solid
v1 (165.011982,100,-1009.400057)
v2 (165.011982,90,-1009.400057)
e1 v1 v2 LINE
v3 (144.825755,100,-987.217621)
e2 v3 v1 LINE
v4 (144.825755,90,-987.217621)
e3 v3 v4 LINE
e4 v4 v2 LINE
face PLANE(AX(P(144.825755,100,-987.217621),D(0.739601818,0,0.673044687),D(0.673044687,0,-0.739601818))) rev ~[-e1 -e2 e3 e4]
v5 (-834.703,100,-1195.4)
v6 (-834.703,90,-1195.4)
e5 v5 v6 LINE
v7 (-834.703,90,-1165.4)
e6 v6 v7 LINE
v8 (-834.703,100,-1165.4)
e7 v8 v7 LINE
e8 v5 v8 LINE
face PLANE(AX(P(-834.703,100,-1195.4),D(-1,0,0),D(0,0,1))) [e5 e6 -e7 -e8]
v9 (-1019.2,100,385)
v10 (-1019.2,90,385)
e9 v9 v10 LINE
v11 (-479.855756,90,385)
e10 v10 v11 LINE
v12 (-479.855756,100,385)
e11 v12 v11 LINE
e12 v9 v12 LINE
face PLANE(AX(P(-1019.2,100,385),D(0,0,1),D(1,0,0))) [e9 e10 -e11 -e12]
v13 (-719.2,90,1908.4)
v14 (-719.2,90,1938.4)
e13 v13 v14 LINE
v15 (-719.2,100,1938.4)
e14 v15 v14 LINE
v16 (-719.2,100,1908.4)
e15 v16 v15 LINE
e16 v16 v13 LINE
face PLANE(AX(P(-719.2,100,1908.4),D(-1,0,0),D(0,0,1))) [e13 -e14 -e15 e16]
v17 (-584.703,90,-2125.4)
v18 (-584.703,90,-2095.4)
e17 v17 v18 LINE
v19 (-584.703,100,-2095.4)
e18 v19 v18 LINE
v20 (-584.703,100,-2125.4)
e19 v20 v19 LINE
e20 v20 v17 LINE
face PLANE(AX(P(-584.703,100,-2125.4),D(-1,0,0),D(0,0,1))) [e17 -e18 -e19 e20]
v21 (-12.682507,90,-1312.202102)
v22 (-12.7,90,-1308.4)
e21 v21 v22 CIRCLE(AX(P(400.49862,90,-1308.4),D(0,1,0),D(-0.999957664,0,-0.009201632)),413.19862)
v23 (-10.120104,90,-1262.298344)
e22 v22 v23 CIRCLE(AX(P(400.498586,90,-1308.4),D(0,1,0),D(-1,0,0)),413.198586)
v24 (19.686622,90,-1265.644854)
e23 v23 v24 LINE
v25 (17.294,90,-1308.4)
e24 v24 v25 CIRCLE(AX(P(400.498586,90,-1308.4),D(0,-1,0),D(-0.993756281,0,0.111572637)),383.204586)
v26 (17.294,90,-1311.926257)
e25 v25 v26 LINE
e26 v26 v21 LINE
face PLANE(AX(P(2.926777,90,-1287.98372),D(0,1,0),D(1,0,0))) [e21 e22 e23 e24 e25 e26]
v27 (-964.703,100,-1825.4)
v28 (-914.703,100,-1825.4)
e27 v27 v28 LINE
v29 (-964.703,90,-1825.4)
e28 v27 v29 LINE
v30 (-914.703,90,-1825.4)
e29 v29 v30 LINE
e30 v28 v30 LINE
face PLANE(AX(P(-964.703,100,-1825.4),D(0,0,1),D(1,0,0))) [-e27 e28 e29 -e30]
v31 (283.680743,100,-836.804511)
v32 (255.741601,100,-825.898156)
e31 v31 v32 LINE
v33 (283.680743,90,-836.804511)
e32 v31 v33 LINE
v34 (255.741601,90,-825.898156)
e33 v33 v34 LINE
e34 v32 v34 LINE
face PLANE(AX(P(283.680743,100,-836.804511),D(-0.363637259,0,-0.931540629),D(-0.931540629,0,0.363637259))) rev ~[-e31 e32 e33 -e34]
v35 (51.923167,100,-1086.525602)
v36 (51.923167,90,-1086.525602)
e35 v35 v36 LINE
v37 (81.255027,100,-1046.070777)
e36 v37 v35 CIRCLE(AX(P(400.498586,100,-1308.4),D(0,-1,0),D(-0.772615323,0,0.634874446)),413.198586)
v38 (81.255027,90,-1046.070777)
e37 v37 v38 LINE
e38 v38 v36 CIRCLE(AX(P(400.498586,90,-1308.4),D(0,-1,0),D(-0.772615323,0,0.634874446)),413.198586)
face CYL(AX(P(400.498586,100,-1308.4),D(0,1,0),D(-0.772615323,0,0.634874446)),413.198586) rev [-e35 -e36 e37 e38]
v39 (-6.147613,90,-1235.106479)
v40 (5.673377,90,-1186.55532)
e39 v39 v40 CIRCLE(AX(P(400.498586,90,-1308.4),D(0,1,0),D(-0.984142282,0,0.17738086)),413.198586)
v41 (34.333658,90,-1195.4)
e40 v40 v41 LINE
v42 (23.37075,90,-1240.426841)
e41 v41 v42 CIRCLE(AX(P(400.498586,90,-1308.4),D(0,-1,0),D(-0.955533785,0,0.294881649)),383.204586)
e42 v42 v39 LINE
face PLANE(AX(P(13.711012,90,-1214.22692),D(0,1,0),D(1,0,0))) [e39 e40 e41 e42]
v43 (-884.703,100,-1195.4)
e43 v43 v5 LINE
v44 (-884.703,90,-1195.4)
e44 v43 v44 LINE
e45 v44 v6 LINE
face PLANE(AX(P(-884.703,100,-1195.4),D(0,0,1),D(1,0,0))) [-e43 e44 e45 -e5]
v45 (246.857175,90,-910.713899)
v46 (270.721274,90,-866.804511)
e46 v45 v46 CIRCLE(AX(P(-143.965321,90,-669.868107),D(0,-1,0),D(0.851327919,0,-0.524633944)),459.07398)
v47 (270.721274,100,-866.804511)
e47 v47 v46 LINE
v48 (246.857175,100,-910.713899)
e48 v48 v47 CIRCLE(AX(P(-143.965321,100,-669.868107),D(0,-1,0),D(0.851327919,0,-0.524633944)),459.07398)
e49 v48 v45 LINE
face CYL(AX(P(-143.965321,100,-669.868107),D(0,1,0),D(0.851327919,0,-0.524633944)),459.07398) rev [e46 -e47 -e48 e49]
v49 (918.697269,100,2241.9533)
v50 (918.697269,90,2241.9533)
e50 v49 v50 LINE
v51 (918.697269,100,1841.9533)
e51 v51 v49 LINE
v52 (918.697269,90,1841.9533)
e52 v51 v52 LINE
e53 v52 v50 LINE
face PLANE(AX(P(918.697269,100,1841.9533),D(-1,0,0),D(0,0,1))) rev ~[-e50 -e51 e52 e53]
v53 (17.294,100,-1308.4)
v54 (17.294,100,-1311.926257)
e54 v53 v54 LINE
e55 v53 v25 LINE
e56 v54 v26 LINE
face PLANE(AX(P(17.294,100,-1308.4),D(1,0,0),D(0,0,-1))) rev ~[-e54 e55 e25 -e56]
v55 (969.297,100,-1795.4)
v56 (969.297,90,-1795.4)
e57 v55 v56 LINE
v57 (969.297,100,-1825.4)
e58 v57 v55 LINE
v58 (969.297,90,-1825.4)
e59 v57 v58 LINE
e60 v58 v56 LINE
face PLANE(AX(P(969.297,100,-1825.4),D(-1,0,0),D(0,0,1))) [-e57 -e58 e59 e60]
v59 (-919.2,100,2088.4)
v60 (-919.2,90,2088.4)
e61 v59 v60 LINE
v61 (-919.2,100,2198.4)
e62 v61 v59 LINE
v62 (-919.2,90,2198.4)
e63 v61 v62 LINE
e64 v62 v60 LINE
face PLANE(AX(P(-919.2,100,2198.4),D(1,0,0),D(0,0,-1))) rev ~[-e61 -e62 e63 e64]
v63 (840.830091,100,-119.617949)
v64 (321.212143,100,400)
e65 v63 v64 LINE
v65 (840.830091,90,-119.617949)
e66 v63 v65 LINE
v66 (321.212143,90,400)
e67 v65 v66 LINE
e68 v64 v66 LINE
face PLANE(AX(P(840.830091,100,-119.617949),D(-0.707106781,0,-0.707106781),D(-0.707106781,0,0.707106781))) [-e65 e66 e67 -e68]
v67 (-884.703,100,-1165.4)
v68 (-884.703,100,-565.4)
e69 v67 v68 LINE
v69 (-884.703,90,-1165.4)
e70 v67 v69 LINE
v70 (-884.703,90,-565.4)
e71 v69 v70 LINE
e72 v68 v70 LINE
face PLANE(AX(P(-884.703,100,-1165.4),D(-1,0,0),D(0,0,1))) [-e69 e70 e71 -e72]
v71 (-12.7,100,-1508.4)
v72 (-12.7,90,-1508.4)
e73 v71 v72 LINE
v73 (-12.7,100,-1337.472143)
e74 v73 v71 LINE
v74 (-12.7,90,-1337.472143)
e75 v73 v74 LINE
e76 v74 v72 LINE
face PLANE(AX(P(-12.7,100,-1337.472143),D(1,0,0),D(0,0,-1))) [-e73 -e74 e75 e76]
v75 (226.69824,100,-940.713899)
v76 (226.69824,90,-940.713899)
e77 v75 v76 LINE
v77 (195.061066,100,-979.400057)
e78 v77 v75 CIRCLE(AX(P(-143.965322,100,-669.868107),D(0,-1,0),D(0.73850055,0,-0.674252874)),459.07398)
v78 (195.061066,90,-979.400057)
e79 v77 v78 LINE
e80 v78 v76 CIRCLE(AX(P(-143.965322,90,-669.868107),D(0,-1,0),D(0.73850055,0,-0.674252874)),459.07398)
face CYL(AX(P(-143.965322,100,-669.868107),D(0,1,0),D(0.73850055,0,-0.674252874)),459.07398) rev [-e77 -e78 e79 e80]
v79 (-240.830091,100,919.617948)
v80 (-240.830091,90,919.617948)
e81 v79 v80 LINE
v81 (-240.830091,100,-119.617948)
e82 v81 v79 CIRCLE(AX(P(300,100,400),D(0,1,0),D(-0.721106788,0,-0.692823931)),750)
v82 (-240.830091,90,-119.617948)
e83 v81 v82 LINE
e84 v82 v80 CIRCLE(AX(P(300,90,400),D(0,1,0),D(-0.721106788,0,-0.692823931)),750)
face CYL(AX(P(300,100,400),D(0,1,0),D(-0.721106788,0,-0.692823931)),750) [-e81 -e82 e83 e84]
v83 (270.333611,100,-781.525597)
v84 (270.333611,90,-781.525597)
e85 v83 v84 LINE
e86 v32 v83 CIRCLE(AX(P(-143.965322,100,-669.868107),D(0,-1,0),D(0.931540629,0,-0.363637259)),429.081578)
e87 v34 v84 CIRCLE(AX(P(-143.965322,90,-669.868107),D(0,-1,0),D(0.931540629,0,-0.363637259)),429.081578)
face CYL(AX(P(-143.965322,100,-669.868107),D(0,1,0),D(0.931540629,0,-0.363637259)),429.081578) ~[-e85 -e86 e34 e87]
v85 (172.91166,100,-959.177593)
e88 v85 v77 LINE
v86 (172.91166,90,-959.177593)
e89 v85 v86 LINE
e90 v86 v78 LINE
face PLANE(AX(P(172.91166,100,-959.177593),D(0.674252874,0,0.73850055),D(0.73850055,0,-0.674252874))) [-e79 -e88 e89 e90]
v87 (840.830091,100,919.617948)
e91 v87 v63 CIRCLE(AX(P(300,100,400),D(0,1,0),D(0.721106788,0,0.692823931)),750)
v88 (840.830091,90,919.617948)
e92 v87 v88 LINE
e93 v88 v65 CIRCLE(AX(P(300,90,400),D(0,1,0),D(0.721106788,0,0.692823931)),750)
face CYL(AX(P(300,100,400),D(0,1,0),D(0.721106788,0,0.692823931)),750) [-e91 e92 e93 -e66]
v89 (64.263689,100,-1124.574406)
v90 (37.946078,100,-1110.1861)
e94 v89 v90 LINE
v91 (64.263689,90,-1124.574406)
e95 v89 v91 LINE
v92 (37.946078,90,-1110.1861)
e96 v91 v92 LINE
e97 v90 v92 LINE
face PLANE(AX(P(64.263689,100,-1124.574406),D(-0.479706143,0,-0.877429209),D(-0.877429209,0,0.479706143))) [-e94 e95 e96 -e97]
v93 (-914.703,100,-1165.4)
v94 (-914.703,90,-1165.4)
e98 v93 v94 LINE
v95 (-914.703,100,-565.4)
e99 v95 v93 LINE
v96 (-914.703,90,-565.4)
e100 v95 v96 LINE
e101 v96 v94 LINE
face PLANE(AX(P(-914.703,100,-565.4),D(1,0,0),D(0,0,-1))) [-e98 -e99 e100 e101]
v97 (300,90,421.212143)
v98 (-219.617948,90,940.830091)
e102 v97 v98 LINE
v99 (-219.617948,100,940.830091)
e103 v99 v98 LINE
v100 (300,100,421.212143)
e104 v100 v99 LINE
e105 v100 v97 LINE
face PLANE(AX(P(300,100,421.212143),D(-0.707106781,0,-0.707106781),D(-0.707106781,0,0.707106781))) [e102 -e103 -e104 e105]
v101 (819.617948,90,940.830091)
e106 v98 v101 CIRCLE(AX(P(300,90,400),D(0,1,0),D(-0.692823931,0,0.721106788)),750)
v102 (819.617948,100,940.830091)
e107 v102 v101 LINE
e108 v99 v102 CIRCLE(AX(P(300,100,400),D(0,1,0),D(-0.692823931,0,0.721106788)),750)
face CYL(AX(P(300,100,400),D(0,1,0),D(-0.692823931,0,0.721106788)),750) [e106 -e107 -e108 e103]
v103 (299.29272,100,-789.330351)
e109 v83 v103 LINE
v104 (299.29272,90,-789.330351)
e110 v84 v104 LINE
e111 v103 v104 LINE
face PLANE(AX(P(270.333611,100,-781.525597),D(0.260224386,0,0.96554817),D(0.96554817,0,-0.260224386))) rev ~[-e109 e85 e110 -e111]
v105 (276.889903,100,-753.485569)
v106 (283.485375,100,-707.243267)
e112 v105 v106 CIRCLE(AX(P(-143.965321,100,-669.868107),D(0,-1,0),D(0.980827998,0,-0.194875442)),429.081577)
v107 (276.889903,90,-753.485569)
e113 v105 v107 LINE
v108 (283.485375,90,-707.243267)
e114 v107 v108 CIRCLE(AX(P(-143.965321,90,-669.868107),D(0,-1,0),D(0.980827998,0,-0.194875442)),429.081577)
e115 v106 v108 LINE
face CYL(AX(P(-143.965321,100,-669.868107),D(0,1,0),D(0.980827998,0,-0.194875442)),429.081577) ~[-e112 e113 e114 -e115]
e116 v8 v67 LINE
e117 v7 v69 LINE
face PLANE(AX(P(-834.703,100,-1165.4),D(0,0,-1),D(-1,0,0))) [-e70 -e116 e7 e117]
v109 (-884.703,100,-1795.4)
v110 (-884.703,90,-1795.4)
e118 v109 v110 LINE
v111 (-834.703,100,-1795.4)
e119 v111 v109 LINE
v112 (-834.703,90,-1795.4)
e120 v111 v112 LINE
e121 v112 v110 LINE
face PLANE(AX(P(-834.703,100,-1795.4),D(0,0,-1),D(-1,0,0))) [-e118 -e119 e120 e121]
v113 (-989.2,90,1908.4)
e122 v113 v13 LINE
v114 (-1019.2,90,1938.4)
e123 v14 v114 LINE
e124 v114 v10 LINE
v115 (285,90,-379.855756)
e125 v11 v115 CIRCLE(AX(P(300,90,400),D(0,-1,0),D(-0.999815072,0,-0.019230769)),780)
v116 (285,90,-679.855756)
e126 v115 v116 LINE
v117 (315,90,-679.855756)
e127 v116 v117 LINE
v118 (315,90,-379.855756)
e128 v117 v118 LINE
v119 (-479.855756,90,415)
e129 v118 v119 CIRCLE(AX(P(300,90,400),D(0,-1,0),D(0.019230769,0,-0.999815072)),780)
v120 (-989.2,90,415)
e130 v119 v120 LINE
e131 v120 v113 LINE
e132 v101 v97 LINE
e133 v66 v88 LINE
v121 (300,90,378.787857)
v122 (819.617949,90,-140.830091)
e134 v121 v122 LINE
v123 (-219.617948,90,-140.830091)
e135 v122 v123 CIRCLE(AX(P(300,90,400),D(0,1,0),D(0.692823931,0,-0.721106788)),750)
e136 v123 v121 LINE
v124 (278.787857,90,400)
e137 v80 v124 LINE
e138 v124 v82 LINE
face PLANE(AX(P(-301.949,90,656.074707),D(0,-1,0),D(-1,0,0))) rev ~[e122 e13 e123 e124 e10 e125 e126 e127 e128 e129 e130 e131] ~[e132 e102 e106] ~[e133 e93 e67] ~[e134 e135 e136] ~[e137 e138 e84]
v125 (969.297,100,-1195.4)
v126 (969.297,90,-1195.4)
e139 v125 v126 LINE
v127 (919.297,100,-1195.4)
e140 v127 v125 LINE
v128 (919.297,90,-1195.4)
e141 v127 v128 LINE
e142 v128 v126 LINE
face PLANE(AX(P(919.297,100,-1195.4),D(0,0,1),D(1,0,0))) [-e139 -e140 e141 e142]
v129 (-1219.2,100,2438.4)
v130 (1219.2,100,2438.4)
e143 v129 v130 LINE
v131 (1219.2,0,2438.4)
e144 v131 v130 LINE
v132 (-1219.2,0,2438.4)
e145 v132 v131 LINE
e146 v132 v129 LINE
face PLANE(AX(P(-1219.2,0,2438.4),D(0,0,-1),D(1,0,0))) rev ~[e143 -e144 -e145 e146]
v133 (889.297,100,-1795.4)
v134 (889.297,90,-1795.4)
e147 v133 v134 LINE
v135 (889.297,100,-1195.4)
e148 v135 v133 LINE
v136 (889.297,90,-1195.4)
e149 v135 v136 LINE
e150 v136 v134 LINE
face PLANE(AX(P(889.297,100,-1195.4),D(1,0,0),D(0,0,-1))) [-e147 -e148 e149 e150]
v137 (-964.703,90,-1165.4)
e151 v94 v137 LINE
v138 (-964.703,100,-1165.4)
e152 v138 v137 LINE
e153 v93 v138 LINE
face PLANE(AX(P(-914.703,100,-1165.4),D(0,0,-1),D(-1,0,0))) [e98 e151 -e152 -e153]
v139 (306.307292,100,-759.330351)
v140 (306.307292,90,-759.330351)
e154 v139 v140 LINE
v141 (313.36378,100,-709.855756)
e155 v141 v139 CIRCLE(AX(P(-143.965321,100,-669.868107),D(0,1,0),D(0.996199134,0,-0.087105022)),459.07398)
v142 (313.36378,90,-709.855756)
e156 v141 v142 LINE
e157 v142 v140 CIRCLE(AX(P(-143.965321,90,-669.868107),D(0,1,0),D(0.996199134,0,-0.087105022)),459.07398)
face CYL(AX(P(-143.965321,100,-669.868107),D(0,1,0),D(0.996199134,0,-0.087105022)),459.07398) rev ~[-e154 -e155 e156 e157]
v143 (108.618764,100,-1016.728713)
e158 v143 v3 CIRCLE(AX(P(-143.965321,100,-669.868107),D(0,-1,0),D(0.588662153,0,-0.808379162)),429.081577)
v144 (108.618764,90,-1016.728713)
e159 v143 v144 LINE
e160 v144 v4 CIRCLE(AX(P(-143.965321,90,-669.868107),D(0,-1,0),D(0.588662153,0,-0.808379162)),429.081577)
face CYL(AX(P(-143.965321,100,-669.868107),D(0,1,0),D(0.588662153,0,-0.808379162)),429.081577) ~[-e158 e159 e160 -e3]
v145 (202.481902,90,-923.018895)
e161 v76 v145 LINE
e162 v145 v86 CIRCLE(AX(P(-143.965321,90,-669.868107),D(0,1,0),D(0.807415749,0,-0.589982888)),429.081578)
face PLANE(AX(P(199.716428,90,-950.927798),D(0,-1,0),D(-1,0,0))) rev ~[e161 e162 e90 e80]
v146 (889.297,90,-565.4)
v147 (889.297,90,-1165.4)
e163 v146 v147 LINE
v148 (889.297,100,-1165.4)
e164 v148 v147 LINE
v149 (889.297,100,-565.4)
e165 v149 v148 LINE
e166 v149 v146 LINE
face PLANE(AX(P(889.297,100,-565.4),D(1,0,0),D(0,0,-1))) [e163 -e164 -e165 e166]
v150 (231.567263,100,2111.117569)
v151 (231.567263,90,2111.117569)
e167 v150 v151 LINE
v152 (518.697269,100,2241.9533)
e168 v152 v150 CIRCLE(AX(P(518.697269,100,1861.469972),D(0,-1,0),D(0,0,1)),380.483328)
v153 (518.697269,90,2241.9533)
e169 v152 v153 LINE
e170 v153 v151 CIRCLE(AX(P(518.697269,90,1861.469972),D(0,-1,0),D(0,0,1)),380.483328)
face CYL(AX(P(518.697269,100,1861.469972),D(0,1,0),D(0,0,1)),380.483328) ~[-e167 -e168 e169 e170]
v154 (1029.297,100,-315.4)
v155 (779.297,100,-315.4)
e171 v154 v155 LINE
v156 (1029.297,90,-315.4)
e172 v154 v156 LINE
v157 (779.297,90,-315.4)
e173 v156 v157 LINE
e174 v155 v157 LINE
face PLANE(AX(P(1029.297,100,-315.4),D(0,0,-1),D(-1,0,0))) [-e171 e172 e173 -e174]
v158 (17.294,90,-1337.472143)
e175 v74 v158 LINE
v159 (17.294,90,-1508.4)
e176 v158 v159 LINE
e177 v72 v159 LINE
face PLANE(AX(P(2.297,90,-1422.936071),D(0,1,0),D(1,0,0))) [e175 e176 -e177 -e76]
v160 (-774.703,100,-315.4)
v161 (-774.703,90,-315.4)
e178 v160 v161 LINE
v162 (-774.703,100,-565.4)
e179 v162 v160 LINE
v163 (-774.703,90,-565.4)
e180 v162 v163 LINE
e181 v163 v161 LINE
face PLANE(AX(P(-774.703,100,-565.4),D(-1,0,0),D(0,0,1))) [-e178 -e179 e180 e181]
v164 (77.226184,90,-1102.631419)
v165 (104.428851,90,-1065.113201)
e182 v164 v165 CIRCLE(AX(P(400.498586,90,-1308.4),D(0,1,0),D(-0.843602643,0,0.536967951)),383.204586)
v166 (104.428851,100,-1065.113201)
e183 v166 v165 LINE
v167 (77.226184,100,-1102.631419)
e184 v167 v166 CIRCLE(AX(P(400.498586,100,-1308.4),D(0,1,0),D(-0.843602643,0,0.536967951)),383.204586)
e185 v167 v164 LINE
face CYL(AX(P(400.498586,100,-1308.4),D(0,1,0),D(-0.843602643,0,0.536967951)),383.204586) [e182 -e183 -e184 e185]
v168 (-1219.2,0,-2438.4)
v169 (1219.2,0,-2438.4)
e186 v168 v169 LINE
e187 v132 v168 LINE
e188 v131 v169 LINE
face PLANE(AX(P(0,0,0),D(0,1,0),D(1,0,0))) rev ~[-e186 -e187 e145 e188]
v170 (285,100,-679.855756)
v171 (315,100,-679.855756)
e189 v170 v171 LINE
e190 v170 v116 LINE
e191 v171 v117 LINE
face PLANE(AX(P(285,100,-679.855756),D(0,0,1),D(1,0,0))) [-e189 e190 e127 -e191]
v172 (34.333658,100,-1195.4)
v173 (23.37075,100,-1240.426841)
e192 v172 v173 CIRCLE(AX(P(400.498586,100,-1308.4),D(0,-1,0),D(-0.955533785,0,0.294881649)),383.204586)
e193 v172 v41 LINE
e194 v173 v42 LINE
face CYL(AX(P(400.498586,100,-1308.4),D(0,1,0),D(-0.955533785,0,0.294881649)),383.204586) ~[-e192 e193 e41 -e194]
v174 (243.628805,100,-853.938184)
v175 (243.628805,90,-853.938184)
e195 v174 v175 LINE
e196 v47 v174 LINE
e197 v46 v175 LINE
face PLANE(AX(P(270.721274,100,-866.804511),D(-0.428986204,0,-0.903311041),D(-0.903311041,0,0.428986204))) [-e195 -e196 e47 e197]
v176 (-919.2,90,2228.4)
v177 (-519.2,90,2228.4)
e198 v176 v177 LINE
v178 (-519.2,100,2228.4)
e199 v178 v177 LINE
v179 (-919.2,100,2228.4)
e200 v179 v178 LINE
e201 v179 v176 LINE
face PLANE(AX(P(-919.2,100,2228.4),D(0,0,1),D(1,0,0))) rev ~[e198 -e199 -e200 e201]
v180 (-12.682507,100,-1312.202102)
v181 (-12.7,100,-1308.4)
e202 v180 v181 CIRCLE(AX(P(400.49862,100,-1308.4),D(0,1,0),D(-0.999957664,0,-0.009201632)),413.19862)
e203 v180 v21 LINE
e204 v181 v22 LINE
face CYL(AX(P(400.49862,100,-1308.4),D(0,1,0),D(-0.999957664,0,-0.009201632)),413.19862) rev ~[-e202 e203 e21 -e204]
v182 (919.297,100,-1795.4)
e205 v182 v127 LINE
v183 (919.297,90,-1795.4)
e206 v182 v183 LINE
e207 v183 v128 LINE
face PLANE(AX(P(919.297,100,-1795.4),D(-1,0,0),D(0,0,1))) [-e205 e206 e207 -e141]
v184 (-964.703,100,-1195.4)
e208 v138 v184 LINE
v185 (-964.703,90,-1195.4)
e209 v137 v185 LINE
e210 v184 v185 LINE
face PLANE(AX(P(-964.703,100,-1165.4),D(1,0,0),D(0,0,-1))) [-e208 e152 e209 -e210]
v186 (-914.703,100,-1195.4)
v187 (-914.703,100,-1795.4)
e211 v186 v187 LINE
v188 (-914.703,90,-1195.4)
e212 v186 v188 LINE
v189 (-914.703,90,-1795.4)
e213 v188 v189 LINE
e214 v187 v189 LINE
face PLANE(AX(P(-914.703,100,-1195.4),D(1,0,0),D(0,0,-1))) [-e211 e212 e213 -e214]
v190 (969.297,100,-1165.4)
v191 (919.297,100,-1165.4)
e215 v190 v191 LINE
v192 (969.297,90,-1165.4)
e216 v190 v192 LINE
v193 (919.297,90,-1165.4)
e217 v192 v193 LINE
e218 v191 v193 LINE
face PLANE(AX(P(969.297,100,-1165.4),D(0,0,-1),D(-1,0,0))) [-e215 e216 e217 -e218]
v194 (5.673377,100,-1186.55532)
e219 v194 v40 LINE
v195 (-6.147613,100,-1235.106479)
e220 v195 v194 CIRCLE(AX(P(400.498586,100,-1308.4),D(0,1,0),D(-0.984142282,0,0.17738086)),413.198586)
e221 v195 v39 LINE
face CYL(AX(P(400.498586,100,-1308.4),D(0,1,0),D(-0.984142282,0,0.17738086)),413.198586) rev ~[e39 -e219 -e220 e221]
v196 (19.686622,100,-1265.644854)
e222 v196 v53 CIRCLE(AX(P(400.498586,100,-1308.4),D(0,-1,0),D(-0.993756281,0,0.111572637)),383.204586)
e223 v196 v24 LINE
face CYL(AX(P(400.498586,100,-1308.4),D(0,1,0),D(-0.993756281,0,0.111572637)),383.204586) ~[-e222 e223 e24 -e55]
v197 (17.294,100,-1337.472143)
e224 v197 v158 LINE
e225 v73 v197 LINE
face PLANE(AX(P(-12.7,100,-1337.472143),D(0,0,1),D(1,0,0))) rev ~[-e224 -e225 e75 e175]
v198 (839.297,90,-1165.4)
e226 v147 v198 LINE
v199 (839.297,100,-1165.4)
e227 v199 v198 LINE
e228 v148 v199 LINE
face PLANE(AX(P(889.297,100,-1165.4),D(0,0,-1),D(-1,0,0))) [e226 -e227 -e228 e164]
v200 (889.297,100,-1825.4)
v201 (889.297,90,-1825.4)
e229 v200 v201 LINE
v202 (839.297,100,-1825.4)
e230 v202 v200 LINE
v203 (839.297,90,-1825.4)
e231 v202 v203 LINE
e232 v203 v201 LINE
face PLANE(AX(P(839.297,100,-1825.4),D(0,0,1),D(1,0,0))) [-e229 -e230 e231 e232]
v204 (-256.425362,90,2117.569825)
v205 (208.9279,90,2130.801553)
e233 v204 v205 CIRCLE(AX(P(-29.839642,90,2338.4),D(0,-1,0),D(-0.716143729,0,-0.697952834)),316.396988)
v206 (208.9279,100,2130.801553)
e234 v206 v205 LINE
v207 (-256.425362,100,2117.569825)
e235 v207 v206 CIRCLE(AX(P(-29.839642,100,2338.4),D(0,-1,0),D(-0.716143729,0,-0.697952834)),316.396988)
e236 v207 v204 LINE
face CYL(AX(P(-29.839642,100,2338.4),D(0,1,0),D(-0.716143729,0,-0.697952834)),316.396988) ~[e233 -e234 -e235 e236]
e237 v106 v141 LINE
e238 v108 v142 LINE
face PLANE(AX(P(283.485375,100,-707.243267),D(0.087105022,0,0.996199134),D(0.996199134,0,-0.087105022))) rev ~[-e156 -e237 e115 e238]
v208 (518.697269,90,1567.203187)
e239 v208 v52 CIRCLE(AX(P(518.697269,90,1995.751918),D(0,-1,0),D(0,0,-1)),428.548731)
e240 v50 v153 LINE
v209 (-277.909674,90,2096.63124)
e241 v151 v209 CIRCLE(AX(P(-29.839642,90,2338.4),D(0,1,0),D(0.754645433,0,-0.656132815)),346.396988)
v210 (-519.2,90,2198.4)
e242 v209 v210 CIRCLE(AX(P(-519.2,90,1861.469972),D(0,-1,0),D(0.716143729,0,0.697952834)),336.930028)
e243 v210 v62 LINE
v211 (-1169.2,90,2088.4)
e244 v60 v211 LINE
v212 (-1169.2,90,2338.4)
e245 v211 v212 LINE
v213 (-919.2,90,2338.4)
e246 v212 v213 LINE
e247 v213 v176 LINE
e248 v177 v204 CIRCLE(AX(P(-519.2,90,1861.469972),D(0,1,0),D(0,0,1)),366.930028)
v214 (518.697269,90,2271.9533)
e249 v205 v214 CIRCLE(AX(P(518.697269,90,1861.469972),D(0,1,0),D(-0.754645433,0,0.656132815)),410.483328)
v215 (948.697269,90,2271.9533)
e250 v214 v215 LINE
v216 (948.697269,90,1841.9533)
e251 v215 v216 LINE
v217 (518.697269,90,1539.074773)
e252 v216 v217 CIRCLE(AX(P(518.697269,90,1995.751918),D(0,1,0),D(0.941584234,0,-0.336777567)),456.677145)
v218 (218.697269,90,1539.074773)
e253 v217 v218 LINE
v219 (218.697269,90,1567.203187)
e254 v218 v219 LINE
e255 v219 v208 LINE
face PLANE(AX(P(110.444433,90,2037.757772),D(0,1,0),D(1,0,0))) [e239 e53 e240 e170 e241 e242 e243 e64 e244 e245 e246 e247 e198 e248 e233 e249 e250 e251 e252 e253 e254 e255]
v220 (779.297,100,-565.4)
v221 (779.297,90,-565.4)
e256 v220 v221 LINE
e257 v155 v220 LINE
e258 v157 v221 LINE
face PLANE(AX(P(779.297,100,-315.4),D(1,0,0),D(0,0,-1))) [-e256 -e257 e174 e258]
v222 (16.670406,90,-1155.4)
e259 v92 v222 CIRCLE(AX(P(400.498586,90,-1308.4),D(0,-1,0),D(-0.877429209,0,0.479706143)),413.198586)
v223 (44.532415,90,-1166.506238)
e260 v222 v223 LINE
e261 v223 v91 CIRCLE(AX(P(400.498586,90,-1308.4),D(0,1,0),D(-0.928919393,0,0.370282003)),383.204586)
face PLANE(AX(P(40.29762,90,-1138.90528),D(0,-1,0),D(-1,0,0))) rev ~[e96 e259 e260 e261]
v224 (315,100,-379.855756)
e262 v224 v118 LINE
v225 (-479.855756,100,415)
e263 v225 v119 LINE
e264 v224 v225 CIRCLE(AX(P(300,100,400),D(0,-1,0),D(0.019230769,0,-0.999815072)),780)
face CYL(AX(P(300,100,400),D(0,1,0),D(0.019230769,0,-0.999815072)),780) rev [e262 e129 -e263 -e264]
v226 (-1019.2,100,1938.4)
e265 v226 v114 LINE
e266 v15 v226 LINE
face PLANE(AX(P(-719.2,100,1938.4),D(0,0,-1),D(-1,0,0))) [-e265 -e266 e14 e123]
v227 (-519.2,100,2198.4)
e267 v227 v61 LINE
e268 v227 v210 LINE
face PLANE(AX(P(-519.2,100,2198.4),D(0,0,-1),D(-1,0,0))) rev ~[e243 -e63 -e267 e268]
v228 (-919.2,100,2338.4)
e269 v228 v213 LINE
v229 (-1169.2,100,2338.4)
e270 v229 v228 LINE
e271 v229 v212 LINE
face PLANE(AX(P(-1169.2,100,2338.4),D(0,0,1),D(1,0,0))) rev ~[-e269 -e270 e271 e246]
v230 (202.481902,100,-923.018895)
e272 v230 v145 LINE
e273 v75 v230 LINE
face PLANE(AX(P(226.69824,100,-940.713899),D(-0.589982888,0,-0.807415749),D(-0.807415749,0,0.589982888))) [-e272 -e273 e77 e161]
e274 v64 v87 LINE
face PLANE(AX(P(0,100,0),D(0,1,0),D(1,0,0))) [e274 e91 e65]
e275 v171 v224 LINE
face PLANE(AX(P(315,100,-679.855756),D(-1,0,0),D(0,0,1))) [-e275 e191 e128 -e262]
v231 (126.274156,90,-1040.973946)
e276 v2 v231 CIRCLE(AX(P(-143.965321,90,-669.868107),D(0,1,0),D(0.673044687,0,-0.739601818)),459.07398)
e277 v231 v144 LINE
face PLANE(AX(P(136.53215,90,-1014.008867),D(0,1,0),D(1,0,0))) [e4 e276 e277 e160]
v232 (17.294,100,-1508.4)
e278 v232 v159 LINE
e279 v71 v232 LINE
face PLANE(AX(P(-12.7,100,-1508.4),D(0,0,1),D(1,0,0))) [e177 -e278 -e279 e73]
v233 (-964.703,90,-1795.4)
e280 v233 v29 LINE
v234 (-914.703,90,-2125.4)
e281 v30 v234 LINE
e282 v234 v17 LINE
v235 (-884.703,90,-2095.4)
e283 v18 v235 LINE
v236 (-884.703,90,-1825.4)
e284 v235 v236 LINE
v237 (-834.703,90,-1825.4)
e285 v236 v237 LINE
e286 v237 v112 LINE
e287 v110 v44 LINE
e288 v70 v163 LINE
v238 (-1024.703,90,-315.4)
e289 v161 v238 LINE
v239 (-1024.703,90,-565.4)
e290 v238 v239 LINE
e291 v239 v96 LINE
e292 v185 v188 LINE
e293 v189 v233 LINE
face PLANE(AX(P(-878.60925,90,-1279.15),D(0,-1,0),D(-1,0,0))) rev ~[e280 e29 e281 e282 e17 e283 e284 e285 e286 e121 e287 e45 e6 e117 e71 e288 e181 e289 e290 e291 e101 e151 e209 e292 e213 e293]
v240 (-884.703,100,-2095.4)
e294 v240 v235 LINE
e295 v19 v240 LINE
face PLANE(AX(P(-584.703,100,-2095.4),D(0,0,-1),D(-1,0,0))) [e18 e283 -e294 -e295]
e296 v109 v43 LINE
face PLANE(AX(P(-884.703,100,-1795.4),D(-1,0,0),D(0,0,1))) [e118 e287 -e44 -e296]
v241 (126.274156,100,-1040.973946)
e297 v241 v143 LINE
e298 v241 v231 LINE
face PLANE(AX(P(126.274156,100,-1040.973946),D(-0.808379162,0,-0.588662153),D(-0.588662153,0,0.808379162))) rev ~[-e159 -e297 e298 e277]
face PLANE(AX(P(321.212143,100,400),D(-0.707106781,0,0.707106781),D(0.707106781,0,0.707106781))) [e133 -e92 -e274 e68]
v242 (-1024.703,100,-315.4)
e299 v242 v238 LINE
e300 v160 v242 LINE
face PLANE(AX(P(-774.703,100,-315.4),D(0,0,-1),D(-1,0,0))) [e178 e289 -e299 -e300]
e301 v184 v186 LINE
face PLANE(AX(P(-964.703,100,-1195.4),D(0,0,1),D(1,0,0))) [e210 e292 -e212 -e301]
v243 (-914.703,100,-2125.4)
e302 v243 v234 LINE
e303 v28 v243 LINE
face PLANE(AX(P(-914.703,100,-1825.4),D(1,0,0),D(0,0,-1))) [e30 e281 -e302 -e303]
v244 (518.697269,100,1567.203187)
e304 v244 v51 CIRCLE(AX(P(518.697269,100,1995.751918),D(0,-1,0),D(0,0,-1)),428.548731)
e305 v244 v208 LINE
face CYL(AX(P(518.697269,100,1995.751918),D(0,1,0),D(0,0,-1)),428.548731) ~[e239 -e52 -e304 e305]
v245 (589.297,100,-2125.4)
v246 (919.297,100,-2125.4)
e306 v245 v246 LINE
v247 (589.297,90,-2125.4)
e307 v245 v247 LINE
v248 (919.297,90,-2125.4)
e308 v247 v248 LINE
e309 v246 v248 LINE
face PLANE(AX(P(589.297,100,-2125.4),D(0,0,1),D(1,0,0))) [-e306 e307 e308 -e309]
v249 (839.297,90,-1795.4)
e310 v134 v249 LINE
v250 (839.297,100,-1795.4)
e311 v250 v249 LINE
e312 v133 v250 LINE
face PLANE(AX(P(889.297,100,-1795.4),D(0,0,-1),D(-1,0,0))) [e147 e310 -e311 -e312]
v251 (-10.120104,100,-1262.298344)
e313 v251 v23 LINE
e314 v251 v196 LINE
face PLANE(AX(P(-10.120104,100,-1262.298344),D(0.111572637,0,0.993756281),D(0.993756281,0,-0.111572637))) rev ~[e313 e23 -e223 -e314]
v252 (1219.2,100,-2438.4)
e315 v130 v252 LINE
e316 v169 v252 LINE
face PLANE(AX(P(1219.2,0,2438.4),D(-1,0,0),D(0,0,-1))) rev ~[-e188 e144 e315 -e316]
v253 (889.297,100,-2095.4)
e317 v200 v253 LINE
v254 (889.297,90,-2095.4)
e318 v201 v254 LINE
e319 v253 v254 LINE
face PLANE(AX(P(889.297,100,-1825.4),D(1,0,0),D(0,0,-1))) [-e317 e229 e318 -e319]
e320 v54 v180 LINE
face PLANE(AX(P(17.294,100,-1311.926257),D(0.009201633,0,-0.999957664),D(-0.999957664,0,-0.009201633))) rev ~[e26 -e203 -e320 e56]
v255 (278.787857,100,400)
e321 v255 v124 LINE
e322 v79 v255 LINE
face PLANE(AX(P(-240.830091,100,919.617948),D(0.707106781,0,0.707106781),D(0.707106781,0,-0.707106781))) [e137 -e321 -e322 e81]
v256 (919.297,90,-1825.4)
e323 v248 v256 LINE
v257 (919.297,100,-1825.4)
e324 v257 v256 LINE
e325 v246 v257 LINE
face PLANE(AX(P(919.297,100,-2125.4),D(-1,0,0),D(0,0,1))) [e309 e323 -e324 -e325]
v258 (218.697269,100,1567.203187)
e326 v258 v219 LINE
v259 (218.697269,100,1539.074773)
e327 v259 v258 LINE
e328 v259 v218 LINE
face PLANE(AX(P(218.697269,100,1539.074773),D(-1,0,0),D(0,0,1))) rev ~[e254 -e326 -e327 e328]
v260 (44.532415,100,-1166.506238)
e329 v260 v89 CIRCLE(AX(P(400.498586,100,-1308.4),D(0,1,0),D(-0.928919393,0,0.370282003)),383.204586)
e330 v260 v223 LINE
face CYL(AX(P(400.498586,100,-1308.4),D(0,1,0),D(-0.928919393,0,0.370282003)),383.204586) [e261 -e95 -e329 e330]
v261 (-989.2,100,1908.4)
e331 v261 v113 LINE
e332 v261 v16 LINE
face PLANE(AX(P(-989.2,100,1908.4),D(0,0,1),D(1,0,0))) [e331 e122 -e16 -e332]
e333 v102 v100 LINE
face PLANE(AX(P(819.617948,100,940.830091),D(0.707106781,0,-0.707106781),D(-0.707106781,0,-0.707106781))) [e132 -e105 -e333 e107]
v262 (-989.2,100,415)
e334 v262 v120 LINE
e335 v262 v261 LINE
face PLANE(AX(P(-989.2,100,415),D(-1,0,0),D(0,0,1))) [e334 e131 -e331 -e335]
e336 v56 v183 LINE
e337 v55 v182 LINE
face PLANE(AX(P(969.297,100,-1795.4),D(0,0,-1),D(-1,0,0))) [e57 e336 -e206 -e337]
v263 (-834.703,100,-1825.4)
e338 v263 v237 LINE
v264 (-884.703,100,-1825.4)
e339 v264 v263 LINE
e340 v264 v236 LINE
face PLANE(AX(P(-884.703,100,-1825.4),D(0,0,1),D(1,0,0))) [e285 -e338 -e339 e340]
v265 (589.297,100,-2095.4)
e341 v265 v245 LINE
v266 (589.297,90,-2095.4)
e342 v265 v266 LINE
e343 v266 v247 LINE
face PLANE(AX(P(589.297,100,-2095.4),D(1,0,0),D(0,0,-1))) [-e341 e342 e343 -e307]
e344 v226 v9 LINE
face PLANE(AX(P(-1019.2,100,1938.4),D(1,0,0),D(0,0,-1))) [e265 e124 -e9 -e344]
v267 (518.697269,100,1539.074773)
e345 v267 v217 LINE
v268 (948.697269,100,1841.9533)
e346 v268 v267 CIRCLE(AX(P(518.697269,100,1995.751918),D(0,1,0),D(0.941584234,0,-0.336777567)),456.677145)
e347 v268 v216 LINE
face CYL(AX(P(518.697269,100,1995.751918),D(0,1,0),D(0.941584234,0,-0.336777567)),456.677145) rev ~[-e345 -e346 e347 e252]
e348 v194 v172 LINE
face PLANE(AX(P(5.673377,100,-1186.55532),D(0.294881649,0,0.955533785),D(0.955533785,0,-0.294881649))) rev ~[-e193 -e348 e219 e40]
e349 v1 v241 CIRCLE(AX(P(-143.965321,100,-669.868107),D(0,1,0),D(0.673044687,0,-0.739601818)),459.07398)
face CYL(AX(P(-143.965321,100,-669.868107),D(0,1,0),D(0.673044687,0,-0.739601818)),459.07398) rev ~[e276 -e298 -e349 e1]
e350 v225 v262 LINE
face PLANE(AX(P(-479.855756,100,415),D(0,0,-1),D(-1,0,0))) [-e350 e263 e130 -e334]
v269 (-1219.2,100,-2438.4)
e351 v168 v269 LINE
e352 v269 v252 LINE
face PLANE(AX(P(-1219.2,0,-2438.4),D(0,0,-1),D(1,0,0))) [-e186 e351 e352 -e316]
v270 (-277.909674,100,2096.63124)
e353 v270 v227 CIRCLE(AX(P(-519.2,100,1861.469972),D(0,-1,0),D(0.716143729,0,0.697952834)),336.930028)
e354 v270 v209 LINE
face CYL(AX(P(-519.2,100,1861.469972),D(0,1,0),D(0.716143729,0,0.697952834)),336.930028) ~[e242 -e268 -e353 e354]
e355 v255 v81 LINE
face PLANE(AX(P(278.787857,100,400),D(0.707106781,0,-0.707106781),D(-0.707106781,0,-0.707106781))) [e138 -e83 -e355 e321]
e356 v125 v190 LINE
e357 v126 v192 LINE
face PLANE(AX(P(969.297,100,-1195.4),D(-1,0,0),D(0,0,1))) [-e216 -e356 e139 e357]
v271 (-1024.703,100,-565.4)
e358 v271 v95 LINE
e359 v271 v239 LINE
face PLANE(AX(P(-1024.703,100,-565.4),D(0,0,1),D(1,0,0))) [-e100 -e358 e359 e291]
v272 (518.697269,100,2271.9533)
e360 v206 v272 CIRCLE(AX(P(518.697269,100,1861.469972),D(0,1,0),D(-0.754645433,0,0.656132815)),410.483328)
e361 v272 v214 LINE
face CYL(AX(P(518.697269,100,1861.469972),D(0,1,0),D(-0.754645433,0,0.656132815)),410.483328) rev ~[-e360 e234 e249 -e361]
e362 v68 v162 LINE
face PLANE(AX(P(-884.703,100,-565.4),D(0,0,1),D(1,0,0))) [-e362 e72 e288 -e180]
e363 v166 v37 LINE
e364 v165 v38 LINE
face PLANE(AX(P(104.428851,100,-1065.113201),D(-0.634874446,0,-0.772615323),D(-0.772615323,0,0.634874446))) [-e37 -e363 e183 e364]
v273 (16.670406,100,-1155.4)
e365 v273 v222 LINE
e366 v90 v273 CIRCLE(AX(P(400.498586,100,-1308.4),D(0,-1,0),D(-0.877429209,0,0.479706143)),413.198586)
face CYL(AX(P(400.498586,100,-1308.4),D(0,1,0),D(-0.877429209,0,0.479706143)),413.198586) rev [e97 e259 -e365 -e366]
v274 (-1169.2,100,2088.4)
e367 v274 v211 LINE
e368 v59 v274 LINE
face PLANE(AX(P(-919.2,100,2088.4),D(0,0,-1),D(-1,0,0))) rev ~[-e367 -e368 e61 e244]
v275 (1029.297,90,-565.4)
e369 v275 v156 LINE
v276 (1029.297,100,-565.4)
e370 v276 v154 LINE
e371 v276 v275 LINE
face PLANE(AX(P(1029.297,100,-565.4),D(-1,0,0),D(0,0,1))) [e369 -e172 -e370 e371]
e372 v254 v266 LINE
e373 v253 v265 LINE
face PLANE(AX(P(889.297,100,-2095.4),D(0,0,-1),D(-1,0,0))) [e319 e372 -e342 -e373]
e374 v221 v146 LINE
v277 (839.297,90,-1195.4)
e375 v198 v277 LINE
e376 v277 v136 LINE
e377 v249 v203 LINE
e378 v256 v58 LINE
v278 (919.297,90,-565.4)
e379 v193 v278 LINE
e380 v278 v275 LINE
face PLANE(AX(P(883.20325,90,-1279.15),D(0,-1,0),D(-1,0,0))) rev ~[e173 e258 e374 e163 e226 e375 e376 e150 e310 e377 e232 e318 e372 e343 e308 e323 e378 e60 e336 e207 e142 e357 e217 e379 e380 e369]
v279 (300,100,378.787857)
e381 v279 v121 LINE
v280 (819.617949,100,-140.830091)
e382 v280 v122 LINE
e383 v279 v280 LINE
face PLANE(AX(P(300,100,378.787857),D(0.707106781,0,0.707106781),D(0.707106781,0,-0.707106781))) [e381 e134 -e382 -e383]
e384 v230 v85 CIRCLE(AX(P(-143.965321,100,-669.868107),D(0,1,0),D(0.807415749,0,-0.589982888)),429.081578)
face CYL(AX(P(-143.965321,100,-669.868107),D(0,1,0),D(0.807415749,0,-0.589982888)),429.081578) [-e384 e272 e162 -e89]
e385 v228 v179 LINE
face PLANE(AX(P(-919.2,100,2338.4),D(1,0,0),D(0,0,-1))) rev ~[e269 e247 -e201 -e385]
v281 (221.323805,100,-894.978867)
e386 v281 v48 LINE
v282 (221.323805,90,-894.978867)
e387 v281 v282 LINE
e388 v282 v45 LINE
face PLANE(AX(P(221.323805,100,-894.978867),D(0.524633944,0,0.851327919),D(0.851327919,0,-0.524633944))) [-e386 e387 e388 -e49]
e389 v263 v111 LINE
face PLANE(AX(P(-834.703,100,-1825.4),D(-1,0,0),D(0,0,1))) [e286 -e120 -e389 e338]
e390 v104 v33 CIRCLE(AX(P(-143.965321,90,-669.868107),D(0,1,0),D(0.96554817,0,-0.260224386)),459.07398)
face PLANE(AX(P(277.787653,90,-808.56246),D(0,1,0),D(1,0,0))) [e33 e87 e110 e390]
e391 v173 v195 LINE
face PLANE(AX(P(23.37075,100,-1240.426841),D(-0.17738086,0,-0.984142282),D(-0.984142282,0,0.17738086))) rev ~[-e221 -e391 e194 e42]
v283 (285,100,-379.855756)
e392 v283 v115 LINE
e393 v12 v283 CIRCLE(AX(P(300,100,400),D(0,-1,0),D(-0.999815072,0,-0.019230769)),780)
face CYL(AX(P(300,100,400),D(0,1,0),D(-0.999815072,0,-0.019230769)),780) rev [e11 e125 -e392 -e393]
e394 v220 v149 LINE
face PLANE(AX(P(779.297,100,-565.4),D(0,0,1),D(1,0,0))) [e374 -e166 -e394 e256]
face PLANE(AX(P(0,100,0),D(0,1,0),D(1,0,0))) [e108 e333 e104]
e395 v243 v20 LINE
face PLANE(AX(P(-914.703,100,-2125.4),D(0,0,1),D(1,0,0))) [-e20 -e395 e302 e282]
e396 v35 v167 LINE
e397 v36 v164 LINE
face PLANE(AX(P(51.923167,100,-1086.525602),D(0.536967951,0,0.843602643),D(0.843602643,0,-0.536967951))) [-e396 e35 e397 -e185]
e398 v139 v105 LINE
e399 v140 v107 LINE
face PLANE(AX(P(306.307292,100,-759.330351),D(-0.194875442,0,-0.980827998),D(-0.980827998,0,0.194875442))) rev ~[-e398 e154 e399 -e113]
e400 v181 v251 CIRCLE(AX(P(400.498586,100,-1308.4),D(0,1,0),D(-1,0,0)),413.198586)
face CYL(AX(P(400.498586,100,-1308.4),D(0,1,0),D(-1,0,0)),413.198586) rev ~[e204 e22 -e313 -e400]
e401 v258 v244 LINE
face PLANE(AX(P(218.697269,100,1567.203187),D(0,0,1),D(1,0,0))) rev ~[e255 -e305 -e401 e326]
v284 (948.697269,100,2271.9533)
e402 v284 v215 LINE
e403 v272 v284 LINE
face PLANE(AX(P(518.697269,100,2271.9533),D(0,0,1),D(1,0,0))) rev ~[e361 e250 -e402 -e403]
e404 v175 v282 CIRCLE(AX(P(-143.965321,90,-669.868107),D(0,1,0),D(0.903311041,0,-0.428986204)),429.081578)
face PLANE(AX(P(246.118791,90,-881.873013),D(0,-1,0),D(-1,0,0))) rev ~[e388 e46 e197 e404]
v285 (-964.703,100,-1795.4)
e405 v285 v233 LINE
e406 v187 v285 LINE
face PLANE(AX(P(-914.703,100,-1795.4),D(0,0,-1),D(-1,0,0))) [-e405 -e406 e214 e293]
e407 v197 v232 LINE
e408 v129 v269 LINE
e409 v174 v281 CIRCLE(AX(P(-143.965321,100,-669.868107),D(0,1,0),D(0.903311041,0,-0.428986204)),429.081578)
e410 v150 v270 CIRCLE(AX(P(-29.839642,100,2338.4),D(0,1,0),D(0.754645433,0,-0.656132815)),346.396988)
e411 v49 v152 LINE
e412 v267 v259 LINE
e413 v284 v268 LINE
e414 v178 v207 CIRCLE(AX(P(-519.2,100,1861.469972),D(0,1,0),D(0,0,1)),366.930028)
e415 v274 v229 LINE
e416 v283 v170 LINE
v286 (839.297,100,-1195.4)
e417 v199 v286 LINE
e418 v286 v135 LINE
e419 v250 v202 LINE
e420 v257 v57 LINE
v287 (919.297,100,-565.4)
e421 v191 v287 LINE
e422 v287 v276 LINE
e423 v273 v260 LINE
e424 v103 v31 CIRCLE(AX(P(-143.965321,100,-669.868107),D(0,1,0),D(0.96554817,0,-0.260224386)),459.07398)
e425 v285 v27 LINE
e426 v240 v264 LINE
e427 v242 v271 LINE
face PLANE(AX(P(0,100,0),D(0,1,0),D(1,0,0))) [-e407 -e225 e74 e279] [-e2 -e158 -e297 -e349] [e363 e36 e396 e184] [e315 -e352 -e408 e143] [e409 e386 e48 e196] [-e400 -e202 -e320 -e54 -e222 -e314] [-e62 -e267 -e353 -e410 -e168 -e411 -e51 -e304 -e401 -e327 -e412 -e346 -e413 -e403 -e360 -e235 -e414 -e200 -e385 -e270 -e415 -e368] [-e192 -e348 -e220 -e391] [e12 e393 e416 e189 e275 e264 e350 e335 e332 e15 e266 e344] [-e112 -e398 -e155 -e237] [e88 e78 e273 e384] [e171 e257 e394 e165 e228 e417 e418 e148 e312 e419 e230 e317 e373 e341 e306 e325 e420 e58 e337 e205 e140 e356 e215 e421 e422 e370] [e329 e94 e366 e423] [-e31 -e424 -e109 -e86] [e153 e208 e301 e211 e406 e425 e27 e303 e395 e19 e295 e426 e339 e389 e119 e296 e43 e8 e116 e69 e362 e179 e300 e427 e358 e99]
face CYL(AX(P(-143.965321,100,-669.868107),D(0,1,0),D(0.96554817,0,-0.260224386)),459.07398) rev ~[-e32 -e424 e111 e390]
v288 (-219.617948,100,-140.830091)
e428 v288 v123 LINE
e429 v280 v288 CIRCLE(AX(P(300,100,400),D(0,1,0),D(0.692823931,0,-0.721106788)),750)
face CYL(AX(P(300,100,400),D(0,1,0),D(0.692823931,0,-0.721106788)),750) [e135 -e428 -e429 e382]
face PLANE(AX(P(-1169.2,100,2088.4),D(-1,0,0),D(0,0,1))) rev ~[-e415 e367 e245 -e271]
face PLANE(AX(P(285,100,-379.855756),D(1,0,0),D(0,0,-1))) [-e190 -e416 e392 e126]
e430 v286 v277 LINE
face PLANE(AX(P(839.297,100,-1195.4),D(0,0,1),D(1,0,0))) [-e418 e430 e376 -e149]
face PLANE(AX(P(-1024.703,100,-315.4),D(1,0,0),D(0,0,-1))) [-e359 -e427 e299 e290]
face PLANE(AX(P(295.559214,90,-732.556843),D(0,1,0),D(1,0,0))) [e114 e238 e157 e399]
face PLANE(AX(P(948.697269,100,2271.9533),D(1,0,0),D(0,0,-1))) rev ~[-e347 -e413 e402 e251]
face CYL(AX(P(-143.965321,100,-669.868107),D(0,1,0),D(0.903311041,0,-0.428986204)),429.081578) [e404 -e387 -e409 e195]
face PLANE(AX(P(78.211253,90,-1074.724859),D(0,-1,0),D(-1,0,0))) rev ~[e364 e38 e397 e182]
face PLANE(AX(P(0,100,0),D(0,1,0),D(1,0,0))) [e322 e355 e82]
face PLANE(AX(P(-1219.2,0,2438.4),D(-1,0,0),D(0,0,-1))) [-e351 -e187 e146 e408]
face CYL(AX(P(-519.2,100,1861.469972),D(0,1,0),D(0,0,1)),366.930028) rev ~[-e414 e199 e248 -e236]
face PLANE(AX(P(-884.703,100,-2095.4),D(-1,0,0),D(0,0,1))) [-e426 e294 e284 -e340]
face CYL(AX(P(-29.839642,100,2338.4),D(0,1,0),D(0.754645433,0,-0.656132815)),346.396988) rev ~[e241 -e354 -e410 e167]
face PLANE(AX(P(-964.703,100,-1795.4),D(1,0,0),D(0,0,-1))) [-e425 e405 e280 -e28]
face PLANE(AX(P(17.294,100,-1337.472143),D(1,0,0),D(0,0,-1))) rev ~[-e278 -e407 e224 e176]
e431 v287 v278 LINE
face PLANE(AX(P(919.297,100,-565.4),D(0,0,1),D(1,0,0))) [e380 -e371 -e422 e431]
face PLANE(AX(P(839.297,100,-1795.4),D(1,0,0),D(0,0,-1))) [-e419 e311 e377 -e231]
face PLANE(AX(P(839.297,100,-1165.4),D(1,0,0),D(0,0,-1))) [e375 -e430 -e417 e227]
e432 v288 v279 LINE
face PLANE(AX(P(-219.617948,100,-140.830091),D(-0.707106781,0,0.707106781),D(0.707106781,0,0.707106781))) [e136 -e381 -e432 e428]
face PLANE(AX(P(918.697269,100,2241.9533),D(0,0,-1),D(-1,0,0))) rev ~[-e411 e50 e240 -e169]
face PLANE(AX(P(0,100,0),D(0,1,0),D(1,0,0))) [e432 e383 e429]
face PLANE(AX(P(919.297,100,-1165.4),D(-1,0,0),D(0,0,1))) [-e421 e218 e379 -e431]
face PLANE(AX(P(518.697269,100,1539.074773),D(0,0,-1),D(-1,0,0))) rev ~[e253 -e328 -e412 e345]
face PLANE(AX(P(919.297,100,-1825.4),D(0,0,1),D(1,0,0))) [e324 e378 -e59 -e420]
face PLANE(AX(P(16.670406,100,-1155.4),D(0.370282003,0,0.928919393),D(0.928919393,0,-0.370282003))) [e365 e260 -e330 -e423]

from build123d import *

# Parameters (mm, degrees)
SKETCH1_W           = 2438.4
SKETCH1_H           = 4876.8
BOSS_EXTRUDE1_DEPTH = 100
SKETCH2_W           = 29.994
SKETCH2_H           = 170.927857272
CUT_EXTRUDE1_DEPTH  = 10


with BuildPart() as part:
    # Sketch1 → Boss-Extrude1 (new body)
    with BuildSketch(Plane(origin=(0, 0, 0), x_dir=(1, 0, 0), z_dir=(0, 1, 0))):
        Rectangle(SKETCH1_W, SKETCH1_H)
    extrude(amount=BOSS_EXTRUDE1_DEPTH)

    # Sketch2 → Cut-Extrude1 (cut)
    # profile 1 of 14: a face of its own
    with BuildSketch(Plane(origin=(0, 100, 0), x_dir=(1, 0, 0), z_dir=(0, 1, 0))):
        with BuildLine():
            Line((948.697268509, -2271.953299987), (948.697268509, -1841.953299987))
            ThreePointArc((948.697268509, -1841.953299987), (781.677972321, -1622.395299678), (518.697268509, -1539.074772669))
            Line((518.697268509, -1539.074772669), (218.697268509, -1539.074772669))
            Line((218.697268509, -1539.074772669), (218.697268509, -1567.203186754))
            Line((218.697268509, -1567.203186754), (518.697268509, -1567.203186754))
            ThreePointArc((518.697268509, -1567.203186754), (761.332604312, -1642.506806454), (918.697268509, -1841.953299987))
            Line((918.697268509, -1841.953299987), (918.697268509, -2241.953299987))
            Line((918.697268509, -2241.953299987), (518.697268509, -2241.953299987))
            ThreePointArc((518.697268509, -2241.953299987), (360.930329193, -2207.702777647), (231.567262992, -2111.117569023))
            ThreePointArc((231.567262992, -2111.117569023), (-19.994263519, -1992.142953693), (-277.909673512, -2096.631240126))
            ThreePointArc((-277.909673512, -2096.631240126), (-388.263085664, -2171.917017743), (-519.2, -2198.4))
            Line((-519.2, -2198.4), (-919.2, -2198.4))
            Line((-919.2, -2198.4), (-919.2, -2088.4))
            Line((-919.2, -2088.4), (-1169.2, -2088.4))
            Line((-1169.2, -2088.4), (-1169.2, -2338.4))
            Line((-1169.2, -2338.4), (-919.2, -2338.4))
            Line((-919.2, -2338.4), (-919.2, -2228.4))
            Line((-919.2, -2228.4), (-519.2, -2228.4))
            ThreePointArc((-519.2, -2228.4), (-376.604559833, -2199.558992626), (-256.425361631, -2117.569825155))
            ThreePointArc((-256.425361631, -2117.569825155), (-20.846930763, -2022.130833888), (208.9279, -2130.801553459))
            ThreePointArc((208.9279, -2130.801553459), (348.490866445, -2235.002223915), (518.697268509, -2271.953299987))
            Line((518.697268509, -2271.953299987), (948.697268509, -2271.953299987))
        make_face()
    # profile 2 of 14: a face of its own
    with BuildSketch(Plane(origin=(0, 100, 0), x_dir=(1, 0, 0), z_dir=(0, 1, 0))):
        with BuildLine():
            Line((285, 379.855755893), (285, 679.855755893))
            Line((285, 679.855755893), (315, 679.855755893))
            Line((315, 679.855755893), (315, 379.855755893))
            ThreePointArc((315, 379.855755893), (851.543289326, -951.543289326), (-479.855755893, -415))
            Line((-479.855755893, -415), (-989.2, -415))
            Line((-989.2, -415), (-989.2, -1908.4))
            Line((-989.2, -1908.4), (-719.2, -1908.4))
            Line((-719.2, -1908.4), (-719.2, -1938.4))
            Line((-719.2, -1938.4), (-1019.2, -1938.4))
            Line((-1019.2, -1938.4), (-1019.2, -385))
            Line((-1019.2, -385), (-479.855755893, -385))
            ThreePointArc((-479.855755893, -385), (-251.543289326, 151.543289326), (285, 379.855755893))
        make_face()
        with BuildLine():
            ThreePointArc((840.830091248, -919.617948498), (1050, -399.999999989), (840.830091233, 119.617948514))
            Line((840.830091233, 119.617948514), (321.212142749, -399.999999999))
            Line((321.212142749, -399.999999999), (840.830091248, -919.617948498))
        make_face(mode=Mode.SUBTRACT)
        with BuildLine():
            ThreePointArc((-240.830091247, 119.617948498), (-450, -399.99999999), (-240.830091262, -919.617948483))
            Line((-240.830091262, -919.617948483), (278.78785725, -400))
            Line((278.78785725, -400), (-240.830091247, 119.617948498))
        make_face(mode=Mode.SUBTRACT)
        with BuildLine():
            ThreePointArc((-219.617948483, -940.830091262), (300.00000001, -1150), (819.617948498, -940.830091248))
            Line((819.617948498, -940.830091248), (300, -421.21214275))
            Line((300, -421.21214275), (-219.617948483, -940.830091262))
        make_face(mode=Mode.SUBTRACT)
        with BuildLine():
            ThreePointArc((819.617948513, 140.830091233), (300.00000001, 350), (-219.617948498, 140.830091247))
            Line((-219.617948498, 140.830091247), (300.000000001, -378.787857251))
            Line((300.000000001, -378.787857251), (819.617948513, 140.830091233))
        make_face(mode=Mode.SUBTRACT)
    # profile 3 of 14: a face of its own
    with BuildSketch(Plane(origin=(0, 100, 0), x_dir=(1, 0, 0), z_dir=(0, 1, 0))):
        with BuildLine():
            Line((283.48537458, 707.243266979), (313.363780337, 709.855755893))
            ThreePointArc((313.363780337, 709.855755893), (310.509267678, 734.689146996), (306.307291752, 759.330351401))
            Line((306.307291752, 759.330351401), (276.889903298, 753.485568645))
            ThreePointArc((276.889903298, 753.485568645), (280.817354071, 730.454233152), (283.48537458, 707.243266979))
        make_face()
    # profile 4 of 14: a face of its own
    with BuildSketch(Plane(origin=(0, 100, 0), x_dir=(1, 0, 0), z_dir=(0, 1, 0))):
        with BuildLine():
            Line((270.333610539, 781.525596779), (299.292720231, 789.330351401))
            ThreePointArc((299.292720231, 789.330351401), (292.133221855, 813.280030714), (283.680743009, 836.804510677))
            Line((283.680743009, 836.804510677), (255.741601187, 825.898155504))
            ThreePointArc((255.741601187, 825.898155504), (263.641859342, 803.91058617), (270.333610539, 781.525596779))
        make_face()
    # profile 5 of 14: a face of its own
    with BuildSketch(Plane(origin=(0, 100, 0), x_dir=(1, 0, 0), z_dir=(0, 1, 0))):
        with BuildLine():
            ThreePointArc((243.628805062, 853.938183638), (233.035185878, 874.762268653), (221.323804893, 894.978866774))
            Line((221.323804893, 894.978866774), (246.857174792, 910.713899361))
            ThreePointArc((246.857174792, 910.713899361), (259.387170406, 889.084179851), (270.72127371, 866.804510677))
            Line((270.72127371, 866.804510677), (243.628805062, 853.938183638))
        make_face()
    # profile 6 of 14: a face of its own
    with BuildSketch(Plane(origin=(0, 100, 0), x_dir=(1, 0, 0), z_dir=(0, 1, 0))):
        with BuildLine():
            ThreePointArc((202.481901877, 923.018894908), (188.18918005, 941.500923663), (172.911659512, 959.177593325))
            Line((172.911659512, 959.177593325), (195.061065513, 979.40005714))
            ThreePointArc((195.061065513, 979.40005714), (211.406470515, 960.487804723), (226.698240294, 940.713899361))
            Line((226.698240294, 940.713899361), (202.481901877, 923.018894908))
        make_face()
    # profile 7 of 14: a face of its own
    with BuildSketch(Plane(origin=(0, 100, 0), x_dir=(1, 0, 0), z_dir=(0, 1, 0))):
        with BuildLine():
            Line((144.825754574, 987.217621459), (165.011981963, 1009.40005714))
            ThreePointArc((165.011981963, 1009.40005714), (146.073033678, 1025.714522931), (126.274156062, 1040.973946293))
            Line((126.274156062, 1040.973946293), (108.618763636, 1016.728712798))
            ThreePointArc((108.618763636, 1016.728712798), (127.124133149, 1002.466224119), (144.825754574, 987.217621459))
        make_face()
    # profile 8 of 14: a face of its own
    with BuildSketch(Plane(origin=(0, 100, 0), x_dir=(1, 0, 0), z_dir=(0, 1, 0))):
        with BuildLine():
            ThreePointArc((77.22618432, 1102.631418758), (90.259847646, 1083.460719448), (104.428850873, 1065.113200834))
            Line((104.428850873, 1065.113200834), (81.255026867, 1046.0707767))
            ThreePointArc((81.255026867, 1046.0707767), (65.97699442, 1065.854383225), (51.923166638, 1086.525602039))
            Line((51.923166638, 1086.525602039), (77.22618432, 1102.631418758))
        make_face()
    # profile 9 of 14: a face of its own
    with BuildSketch(Plane(origin=(0, 100, 0), x_dir=(1, 0, 0), z_dir=(0, 1, 0))):
        with BuildLine():
            Line((16.670406388, 1155.4), (44.532414655, 1166.506238397))
            ThreePointArc((44.532414655, 1166.506238397), (53.763601741, 1145.241777983), (64.263689238, 1124.574406251))
            Line((64.263689238, 1124.574406251), (37.946077545, 1110.186100207))
            ThreePointArc((37.946077545, 1110.186100207), (26.624132388, 1132.471138247), (16.670406388, 1155.4))
        make_face()
    # profile 10 of 14: a face of its own
    with BuildSketch(Plane(origin=(0, 100, 0), x_dir=(1, 0, 0), z_dir=(0, 1, 0))):
        with BuildLine():
            Line((23.370750404, 1240.42684097), (-6.147613191, 1235.106479452))
            ThreePointArc((-6.147613191, 1235.106479452), (-0.971721956, 1210.652041971), (5.673377354, 1186.555319834))
            Line((5.673377354, 1186.555319834), (34.333657687, 1195.4))
            ThreePointArc((34.333657687, 1195.4), (28.170924763, 1217.747546054), (23.370750404, 1240.42684097))
        make_face()
    # profile 11 of 14: a face of its own
    with BuildSketch(Plane(origin=(0, 100, 0), x_dir=(1, 0, 0), z_dir=(0, 1, 0))):
        with BuildLine():
            ThreePointArc((-12.7, 1308.4), (-12.054521902, 1285.313106906), (-10.120104275, 1262.298344185))
            Line((-10.120104275, 1262.298344185), (19.686621628, 1265.644853858))
            ThreePointArc((19.686621628, 1265.644853858), (17.892622976, 1286.988979707), (17.294, 1308.4))
            Line((17.294, 1308.4), (17.294, 1311.926257178))
            Line((17.294, 1311.926257178), (-12.682506858, 1312.202101666))
            ThreePointArc((-12.682506858, 1312.202101666), (-12.695626691, 1310.301070954), (-12.7, 1308.4))
        make_face()
    # profile 12 of 14: a face of its own
    with BuildSketch(Plane(origin=(0, 100, 0), x_dir=(1, 0, 0), z_dir=(0, 1, 0))):
        with Locations((2.297, 1422.936071364)):
            Rectangle(SKETCH2_W, SKETCH2_H)
    # profile 13 of 14: a face of its own
    with BuildSketch(Plane(origin=(0, 100, 0), x_dir=(1, 0, 0), z_dir=(0, 1, 0))):
        Polygon((889.297, 565.4), (889.297, 1165.4), (839.297, 1165.4), (839.297, 1195.4), (889.297, 1195.4), (889.297, 1795.4), (839.297, 1795.4), (839.297, 1825.4), (889.297, 1825.4), (889.297, 2095.4), (589.297, 2095.4), (589.297, 2125.4), (919.297, 2125.4), (919.297, 1825.4), (969.297, 1825.4), (969.297, 1795.4), (919.297, 1795.4), (919.297, 1195.4), (969.297, 1195.4), (969.297, 1165.4), (919.297, 1165.4), (919.297, 565.4), (1029.297, 565.4), (1029.297, 315.4), (779.297, 315.4), (779.297, 565.4), align=None)
    # profile 14 of 14: a face of its own
    with BuildSketch(Plane(origin=(0, 100, 0), x_dir=(1, 0, 0), z_dir=(0, 1, 0))):
        Polygon((-1024.703, 565.4), (-914.703, 565.4), (-914.703, 1165.4), (-964.703, 1165.4), (-964.703, 1195.4), (-914.703, 1195.4), (-914.703, 1795.4), (-964.703, 1795.4), (-964.703, 1825.4), (-914.703, 1825.4), (-914.703, 2125.4), (-584.703, 2125.4), (-584.703, 2095.4), (-884.703, 2095.4), (-884.703, 1825.4), (-834.703, 1825.4), (-834.703, 1795.4), (-884.703, 1795.4), (-884.703, 1195.4), (-834.703, 1195.4), (-834.703, 1165.4), (-884.703, 1165.4), (-884.703, 565.4), (-774.703, 565.4), (-774.703, 315.4), (-1024.703, 315.4), align=None)
    extrude(amount=-CUT_EXTRUDE1_DEPTH, mode=Mode.SUBTRACT)


solid = part.part
